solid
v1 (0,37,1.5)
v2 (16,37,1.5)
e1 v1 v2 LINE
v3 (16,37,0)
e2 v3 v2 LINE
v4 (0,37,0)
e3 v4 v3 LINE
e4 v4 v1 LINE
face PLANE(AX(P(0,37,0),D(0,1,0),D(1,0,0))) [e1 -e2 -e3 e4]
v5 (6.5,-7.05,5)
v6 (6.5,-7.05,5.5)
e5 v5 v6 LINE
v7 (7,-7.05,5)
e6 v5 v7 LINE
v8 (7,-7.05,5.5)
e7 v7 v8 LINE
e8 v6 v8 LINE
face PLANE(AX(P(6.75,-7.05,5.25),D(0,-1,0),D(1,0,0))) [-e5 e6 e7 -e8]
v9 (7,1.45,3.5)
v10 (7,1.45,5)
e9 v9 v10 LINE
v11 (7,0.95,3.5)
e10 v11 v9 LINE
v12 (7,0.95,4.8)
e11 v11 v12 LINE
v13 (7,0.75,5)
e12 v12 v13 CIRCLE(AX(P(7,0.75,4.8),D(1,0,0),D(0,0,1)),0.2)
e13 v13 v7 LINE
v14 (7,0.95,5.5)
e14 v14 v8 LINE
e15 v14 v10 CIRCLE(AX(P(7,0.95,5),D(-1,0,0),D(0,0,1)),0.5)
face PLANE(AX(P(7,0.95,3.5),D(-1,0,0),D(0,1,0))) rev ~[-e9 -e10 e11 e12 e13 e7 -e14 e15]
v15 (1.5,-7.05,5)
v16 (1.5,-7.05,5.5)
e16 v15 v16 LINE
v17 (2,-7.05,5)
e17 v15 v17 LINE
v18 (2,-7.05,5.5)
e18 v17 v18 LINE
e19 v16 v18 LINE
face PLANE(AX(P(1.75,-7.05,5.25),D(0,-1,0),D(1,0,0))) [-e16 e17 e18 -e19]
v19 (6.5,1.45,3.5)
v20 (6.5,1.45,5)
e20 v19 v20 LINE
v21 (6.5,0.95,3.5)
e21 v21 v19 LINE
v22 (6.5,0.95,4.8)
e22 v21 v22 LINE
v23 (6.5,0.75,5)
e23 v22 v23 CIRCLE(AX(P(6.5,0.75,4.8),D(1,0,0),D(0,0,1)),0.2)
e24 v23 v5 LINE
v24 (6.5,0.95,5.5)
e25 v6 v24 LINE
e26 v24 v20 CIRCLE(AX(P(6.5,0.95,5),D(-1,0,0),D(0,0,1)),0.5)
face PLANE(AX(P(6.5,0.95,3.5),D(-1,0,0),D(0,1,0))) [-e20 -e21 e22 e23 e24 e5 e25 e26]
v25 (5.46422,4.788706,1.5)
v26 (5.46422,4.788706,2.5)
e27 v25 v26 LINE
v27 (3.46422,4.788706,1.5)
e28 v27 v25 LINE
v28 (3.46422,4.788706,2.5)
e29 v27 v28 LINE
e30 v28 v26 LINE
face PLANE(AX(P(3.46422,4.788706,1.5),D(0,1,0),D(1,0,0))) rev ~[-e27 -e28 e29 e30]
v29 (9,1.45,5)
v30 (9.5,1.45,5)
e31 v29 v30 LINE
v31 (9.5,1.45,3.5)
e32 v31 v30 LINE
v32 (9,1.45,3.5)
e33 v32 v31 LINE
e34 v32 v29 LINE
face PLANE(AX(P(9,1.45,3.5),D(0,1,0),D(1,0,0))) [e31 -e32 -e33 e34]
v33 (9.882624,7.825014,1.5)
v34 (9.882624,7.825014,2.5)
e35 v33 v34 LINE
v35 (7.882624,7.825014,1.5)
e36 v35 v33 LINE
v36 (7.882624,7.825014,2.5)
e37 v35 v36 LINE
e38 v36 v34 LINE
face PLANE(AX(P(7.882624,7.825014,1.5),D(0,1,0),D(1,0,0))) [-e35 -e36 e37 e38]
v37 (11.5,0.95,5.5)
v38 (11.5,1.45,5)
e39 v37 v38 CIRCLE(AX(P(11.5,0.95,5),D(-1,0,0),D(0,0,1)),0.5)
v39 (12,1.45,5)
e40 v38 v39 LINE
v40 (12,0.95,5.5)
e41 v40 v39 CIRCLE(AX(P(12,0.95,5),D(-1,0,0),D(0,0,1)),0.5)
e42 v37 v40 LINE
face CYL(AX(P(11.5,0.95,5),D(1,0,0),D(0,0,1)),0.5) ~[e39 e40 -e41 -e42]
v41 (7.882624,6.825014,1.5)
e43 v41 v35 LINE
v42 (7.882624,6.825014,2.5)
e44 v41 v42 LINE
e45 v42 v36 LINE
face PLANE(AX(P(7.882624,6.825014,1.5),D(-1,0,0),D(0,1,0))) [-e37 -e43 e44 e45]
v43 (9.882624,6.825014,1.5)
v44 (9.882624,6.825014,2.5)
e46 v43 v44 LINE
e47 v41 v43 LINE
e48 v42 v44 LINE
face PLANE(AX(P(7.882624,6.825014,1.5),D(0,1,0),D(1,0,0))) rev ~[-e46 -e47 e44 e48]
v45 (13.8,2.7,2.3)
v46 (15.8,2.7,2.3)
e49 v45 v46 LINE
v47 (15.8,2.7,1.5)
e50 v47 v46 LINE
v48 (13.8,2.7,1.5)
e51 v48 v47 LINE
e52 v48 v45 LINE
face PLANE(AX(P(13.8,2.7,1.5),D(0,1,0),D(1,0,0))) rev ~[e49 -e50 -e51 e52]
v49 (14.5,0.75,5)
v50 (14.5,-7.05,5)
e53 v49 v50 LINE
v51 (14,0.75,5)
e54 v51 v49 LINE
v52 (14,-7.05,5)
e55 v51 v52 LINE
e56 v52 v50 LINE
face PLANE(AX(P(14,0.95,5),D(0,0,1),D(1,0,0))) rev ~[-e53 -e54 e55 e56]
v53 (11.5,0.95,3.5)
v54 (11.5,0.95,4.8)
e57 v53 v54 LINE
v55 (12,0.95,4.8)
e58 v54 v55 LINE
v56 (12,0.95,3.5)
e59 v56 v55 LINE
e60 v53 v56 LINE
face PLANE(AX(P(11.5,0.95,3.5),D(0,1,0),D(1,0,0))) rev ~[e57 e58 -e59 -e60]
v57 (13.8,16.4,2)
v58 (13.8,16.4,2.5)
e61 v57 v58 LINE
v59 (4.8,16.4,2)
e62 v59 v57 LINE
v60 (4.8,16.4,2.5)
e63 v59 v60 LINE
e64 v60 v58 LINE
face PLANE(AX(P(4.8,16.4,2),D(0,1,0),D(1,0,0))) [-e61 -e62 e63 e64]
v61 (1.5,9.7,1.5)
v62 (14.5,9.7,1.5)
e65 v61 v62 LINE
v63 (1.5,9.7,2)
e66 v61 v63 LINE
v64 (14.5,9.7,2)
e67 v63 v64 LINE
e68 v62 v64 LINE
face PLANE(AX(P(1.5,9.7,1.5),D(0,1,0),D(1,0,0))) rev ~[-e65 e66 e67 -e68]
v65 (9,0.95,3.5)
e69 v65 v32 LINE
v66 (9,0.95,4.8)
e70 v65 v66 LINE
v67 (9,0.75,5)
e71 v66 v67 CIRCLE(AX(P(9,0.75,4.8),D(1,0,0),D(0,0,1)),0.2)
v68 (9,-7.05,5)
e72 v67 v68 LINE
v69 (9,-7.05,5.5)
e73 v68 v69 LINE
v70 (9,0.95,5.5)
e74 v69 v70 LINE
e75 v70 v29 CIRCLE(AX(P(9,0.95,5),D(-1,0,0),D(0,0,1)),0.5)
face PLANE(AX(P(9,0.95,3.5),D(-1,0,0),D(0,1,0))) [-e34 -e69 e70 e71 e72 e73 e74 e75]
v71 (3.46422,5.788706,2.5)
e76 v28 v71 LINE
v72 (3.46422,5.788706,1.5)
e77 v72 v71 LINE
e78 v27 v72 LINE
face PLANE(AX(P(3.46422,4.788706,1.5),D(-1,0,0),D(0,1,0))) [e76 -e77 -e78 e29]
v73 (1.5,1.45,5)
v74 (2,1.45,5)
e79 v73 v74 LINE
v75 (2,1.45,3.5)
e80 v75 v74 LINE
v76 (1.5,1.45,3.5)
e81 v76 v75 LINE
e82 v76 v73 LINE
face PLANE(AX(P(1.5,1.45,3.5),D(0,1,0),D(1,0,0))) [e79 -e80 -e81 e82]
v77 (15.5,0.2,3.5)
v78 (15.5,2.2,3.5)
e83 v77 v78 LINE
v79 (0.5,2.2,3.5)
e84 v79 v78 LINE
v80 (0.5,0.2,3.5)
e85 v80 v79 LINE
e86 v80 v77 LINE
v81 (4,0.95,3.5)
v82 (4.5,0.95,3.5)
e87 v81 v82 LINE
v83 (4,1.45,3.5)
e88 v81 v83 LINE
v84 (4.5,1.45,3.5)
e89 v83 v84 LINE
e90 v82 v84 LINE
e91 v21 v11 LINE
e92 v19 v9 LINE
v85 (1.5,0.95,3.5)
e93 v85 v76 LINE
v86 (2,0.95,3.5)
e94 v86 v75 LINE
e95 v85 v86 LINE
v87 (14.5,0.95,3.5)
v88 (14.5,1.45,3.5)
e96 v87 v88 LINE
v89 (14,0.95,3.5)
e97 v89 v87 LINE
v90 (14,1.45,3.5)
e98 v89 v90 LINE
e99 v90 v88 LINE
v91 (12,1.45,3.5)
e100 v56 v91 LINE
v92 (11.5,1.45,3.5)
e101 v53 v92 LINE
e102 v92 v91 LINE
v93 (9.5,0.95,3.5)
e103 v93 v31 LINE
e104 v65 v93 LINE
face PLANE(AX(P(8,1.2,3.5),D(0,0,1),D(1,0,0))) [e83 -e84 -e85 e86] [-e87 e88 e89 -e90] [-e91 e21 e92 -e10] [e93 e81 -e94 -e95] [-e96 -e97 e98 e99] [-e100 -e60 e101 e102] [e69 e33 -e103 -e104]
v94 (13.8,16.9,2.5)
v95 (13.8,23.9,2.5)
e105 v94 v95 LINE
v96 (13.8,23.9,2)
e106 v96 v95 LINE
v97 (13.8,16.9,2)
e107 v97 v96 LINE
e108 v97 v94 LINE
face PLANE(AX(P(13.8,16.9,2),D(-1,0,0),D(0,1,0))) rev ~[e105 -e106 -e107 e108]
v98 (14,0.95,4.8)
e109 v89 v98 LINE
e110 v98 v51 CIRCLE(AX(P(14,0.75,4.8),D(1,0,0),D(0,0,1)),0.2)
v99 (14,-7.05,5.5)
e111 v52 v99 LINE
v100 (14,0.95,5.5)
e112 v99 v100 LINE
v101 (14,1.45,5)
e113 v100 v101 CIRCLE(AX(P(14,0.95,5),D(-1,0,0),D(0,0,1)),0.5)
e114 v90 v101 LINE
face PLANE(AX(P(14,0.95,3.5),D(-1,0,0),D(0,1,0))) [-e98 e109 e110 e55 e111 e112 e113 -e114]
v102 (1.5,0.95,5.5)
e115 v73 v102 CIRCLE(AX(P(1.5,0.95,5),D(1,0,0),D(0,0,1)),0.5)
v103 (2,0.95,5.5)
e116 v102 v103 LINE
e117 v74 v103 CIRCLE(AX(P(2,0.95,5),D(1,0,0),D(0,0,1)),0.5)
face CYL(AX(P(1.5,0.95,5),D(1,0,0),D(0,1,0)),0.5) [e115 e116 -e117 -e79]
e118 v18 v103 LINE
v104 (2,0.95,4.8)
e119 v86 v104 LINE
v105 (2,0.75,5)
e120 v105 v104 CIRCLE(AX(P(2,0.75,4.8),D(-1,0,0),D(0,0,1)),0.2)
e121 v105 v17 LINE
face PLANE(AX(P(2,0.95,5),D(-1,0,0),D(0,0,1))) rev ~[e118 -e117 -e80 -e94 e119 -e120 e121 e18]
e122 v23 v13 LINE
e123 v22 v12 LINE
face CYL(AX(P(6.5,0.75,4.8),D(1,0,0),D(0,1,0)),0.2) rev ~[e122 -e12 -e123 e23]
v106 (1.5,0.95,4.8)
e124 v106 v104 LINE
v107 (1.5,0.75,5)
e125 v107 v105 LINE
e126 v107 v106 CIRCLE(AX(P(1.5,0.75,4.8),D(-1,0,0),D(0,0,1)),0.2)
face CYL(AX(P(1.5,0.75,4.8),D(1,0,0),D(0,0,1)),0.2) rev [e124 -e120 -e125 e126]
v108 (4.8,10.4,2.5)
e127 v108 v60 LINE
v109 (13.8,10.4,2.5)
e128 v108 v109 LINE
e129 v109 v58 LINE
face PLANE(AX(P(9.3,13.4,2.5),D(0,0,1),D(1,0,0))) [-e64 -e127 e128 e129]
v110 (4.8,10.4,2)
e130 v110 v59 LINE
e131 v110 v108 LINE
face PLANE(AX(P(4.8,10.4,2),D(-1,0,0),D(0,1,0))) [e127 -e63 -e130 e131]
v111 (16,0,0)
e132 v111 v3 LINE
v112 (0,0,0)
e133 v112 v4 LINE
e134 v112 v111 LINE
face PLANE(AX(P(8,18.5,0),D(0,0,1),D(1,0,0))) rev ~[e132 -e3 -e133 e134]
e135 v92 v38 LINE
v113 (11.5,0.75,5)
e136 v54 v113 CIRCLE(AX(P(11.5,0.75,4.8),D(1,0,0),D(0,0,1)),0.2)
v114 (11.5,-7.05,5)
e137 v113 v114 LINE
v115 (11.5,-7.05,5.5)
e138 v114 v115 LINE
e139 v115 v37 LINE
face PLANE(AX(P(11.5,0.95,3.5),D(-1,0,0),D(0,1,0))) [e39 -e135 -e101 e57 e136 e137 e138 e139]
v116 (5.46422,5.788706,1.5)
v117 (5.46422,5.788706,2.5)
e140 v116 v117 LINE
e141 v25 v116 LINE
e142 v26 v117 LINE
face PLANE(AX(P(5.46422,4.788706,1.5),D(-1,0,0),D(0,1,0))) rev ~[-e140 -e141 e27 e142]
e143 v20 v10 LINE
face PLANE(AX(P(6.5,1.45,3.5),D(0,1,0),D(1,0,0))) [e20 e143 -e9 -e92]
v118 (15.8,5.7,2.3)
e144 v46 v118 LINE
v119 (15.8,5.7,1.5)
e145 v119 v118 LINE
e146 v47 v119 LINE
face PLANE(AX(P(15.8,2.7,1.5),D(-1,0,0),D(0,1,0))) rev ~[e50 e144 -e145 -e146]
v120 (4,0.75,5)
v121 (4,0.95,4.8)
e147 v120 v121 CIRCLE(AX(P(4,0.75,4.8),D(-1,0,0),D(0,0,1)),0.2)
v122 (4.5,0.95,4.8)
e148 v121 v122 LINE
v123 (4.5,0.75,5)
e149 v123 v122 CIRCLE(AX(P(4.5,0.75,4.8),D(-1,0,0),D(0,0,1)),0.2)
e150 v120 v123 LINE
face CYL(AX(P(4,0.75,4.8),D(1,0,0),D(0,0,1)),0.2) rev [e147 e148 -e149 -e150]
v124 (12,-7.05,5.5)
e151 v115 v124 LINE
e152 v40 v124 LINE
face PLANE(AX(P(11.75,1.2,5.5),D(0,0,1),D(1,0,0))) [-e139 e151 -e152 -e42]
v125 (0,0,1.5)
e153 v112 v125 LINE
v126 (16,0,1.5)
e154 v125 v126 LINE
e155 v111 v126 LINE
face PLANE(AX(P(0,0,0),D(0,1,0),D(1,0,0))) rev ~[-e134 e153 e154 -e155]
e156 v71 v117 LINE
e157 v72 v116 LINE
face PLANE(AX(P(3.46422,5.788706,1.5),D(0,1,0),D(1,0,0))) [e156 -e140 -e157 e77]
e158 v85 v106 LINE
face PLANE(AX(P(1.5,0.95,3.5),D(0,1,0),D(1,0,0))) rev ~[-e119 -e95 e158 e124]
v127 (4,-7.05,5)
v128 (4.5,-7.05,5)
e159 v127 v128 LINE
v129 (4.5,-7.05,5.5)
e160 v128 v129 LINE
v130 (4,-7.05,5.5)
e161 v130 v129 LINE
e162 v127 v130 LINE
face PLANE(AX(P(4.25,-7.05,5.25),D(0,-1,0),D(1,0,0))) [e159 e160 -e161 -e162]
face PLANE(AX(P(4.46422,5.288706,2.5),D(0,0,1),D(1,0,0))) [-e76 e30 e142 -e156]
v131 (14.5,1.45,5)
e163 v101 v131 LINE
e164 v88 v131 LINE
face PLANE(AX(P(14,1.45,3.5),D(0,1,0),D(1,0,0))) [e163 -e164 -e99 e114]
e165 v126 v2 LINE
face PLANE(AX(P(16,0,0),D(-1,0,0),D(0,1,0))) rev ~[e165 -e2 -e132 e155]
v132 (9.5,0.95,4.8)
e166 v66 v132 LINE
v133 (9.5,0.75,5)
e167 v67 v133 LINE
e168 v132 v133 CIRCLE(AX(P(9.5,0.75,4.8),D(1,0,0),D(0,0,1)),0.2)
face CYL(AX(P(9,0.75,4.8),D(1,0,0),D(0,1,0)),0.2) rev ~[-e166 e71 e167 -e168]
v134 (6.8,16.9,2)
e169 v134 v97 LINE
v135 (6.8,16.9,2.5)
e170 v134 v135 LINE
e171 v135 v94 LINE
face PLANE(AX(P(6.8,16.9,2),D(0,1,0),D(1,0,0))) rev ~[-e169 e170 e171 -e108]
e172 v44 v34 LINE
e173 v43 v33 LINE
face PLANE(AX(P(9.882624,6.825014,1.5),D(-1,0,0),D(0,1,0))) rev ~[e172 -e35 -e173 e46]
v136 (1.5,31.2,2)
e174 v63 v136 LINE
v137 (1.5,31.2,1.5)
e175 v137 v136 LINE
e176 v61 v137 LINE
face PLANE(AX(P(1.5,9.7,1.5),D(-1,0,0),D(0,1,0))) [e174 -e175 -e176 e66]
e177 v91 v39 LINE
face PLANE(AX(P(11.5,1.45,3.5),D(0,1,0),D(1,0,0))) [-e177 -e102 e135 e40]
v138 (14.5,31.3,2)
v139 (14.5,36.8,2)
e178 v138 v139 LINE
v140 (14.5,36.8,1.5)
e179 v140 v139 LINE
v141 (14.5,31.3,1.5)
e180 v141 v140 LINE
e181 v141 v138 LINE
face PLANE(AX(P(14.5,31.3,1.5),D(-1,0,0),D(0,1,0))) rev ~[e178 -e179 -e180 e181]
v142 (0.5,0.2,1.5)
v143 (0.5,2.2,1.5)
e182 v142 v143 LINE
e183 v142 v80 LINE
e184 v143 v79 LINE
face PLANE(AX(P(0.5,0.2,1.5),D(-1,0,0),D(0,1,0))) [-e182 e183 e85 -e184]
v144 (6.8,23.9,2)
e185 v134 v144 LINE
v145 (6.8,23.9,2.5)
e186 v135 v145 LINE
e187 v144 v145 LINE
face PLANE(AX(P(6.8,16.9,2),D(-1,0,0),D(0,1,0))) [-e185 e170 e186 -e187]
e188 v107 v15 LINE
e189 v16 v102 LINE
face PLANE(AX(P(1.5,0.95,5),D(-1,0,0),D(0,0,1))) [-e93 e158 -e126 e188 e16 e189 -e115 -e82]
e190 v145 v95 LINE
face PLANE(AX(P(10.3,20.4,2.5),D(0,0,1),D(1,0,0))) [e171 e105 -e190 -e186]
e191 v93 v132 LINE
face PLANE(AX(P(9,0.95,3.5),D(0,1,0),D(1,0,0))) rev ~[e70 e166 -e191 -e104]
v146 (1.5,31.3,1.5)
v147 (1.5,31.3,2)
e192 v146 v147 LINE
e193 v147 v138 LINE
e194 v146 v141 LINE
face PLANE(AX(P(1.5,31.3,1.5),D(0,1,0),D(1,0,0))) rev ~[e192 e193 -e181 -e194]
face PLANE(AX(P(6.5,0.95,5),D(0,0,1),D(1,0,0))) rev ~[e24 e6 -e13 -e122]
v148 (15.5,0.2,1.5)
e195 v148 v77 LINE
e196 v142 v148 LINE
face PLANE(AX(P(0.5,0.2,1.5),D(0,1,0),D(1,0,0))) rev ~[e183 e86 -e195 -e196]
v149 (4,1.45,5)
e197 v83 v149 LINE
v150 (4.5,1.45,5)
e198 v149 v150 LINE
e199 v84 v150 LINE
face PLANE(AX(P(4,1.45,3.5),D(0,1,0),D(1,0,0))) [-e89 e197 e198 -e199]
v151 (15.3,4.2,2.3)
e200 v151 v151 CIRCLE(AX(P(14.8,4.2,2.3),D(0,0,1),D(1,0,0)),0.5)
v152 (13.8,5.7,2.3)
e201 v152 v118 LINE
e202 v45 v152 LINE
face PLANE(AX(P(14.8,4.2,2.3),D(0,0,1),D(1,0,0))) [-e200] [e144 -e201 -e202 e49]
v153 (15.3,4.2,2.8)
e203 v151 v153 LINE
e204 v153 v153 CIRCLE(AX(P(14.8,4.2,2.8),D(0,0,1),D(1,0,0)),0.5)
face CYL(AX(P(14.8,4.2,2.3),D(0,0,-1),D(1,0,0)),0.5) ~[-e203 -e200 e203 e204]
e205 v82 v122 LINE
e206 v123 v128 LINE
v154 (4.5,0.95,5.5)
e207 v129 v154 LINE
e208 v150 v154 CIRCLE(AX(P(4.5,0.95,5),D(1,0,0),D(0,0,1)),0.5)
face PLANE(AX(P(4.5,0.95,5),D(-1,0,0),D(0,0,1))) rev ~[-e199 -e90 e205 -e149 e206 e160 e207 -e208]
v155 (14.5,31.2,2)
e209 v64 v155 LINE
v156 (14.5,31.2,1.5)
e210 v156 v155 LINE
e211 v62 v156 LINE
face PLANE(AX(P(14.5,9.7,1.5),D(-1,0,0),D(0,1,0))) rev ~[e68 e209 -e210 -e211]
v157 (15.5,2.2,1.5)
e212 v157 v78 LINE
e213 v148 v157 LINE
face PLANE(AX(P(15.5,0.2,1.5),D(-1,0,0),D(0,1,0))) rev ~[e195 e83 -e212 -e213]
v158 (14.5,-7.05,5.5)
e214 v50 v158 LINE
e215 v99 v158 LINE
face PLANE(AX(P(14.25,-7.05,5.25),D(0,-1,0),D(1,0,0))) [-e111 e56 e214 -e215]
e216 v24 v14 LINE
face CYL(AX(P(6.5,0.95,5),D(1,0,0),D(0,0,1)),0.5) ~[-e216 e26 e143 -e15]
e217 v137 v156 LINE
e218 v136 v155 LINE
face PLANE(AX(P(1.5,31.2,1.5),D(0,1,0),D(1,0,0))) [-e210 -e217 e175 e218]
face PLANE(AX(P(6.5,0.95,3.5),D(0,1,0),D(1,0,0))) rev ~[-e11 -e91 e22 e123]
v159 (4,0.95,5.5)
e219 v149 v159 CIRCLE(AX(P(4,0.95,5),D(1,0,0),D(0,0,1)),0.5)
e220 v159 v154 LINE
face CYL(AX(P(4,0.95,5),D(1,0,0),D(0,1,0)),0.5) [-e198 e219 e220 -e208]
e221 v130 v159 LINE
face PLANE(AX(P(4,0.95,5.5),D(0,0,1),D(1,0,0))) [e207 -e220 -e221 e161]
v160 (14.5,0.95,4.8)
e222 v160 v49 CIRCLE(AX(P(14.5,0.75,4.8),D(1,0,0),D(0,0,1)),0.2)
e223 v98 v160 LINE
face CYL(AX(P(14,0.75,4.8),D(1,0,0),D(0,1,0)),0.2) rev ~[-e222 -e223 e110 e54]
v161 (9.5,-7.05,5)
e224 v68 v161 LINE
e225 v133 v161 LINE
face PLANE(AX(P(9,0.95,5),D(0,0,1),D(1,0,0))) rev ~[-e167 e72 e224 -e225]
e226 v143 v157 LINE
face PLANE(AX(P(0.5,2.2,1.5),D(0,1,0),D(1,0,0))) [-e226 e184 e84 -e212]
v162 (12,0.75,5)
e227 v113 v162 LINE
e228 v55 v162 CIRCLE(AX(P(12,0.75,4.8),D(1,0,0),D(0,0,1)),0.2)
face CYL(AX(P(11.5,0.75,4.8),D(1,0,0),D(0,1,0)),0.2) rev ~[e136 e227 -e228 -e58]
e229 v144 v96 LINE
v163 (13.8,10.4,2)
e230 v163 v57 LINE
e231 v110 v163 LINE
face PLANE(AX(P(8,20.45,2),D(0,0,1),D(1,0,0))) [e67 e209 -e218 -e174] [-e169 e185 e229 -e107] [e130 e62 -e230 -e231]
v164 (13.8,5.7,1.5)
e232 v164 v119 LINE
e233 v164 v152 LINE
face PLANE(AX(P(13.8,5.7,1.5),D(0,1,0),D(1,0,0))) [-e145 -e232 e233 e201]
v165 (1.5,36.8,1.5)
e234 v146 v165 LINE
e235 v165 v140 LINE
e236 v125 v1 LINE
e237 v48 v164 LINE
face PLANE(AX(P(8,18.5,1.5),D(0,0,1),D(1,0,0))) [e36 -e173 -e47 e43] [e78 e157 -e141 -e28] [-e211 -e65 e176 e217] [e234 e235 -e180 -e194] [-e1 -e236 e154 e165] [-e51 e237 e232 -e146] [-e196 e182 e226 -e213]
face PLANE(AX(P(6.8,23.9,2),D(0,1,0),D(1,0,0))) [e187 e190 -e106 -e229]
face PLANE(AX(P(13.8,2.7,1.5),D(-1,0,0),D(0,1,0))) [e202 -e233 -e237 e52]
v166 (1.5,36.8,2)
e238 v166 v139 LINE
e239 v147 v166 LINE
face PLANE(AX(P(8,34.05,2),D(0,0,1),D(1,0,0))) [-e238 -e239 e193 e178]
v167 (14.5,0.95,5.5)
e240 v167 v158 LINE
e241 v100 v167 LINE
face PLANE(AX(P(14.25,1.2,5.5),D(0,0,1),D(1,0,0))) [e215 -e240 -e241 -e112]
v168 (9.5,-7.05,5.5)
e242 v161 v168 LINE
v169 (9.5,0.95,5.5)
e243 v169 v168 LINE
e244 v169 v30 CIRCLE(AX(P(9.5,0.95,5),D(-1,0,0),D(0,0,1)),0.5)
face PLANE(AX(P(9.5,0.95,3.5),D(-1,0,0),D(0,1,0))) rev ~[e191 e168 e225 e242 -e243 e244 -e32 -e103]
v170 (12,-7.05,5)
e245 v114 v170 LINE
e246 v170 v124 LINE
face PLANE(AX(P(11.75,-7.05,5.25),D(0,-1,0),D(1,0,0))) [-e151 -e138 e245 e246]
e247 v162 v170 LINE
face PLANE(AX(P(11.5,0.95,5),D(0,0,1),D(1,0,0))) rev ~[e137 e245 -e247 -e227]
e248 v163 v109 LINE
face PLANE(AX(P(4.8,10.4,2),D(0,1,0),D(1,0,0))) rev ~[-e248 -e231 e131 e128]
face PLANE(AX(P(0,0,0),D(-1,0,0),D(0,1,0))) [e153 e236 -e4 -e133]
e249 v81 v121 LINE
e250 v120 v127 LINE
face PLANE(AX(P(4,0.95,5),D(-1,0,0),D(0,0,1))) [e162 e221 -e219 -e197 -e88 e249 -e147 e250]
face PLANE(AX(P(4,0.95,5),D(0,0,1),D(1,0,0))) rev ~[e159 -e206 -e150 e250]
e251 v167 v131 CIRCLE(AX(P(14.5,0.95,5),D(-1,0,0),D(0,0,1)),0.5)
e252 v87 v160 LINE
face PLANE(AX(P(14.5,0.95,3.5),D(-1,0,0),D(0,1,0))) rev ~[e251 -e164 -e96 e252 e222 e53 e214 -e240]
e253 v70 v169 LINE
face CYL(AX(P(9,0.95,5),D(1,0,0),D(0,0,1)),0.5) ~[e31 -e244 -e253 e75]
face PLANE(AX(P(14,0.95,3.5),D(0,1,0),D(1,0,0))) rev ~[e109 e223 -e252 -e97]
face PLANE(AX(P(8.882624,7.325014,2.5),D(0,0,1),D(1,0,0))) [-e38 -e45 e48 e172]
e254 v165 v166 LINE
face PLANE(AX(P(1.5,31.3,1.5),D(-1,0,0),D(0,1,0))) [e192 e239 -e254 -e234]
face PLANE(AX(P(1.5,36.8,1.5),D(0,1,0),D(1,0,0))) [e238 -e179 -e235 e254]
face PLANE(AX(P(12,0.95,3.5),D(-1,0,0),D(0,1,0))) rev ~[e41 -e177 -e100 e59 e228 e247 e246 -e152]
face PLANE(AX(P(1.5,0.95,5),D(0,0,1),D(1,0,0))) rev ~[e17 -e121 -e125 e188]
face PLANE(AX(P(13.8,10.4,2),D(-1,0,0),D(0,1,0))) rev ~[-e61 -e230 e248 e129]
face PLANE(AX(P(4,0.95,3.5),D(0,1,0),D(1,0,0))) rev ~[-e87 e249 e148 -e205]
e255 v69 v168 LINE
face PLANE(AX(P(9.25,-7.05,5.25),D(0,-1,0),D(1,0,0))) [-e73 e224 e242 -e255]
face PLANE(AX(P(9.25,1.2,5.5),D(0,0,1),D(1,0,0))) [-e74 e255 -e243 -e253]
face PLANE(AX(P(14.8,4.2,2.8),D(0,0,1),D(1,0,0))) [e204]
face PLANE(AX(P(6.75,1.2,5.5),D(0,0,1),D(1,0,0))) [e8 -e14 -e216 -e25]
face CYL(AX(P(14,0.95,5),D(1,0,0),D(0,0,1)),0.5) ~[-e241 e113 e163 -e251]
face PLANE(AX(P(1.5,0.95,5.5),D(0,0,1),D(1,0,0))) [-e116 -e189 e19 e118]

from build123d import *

# Parameters (mm, degrees)
SKETCH_1_W                     = 16
SKETCH_1_H                     = 37
EXTRUDE_1_DEPTH                = 1.5
SKETCH_2_W                     = 15
SKETCH_2_H                     = 2
EXTRUDE_2_DEPTH                = 2
SKETCH_3_W                     = 0.5
SKETCH_3_H                     = 0.5
EXTRUDE_3_DEPTH                = 2
SKETCH_4_W                     = 0.5
SKETCH_4_H                     = 0.5
EXTRUDE_4_DEPTH                = 8
FILLET_2_R                     = 0.5
FILLET_3_R                     = 0.2
PATTERN_LINEAR_1_COUNT         = 6
PATTERN_LINEAR_1_PITCH         = 2.5
FILLET_2_OF_PATTERN_LINEAR_1_R = 0.5
FILLET_3_OF_PATTERN_LINEAR_1_R = 0.2
SKETCH_7_W                     = 13
SKETCH_7_H                     = 5.5
EXTRUDE_7_DEPTH                = 0.5
SKETCH_8_W                     = 13
SKETCH_8_H                     = 21.5
EXTRUDE_8_DEPTH                = 0.5
SKETCH_9_W                     = 2
SKETCH_9_H                     = 3
EXTRUDE_9_DEPTH                = 0.8
SKETCH_10_R                    = 0.5
EXTRUDE_10_DEPTH               = 0.5
SKETCH_11_W                    = 2
SKETCH_11_H                    = 1
EXTRUDE_11_DEPTH               = 1
SKETCH_12_W                    = 7
SKETCH_12_H                    = 7
SKETCH_12_W_2                  = 9
SKETCH_12_H_2                  = 6
EXTRUDE_12_DEPTH               = 0.5


with BuildPart() as part:
    # 草图1 → 凸台-拉伸1 (new body)
    with BuildSketch(Plane.XY):
        with Locations((8, 18.5)):
            Rectangle(SKETCH_1_W, SKETCH_1_H)
    extrude(amount=EXTRUDE_1_DEPTH)

    # 草图2 → 凸台-拉伸2 (add)
    with BuildSketch(Plane.XY.offset(1.5)):
        with Locations((8, 1.2)):
            Rectangle(SKETCH_2_W, SKETCH_2_H)
    extrude(amount=EXTRUDE_2_DEPTH)

    # 草图3 → 凸台-拉伸3 (add)
    with BuildSketch(Plane.XY.offset(3.5)):
        with Locations((1.75, 1.2)):
            Rectangle(SKETCH_3_W, SKETCH_3_H)
    extrude_3 = extrude(amount=EXTRUDE_3_DEPTH)

    # 草图4 → 凸台-拉伸4 (add)
    with BuildSketch(Plane.XZ.offset(-0.95)):
        with Locations((1.75, 5.25)):
            Rectangle(SKETCH_4_W, SKETCH_4_H)
    extrude_4 = extrude(amount=EXTRUDE_4_DEPTH)

    # 圆角2
    fillet_2_edges = [part.edges().sort_by_distance(p)[0] for p in [
        (1.75, 1.45, 5.5),
    ]]
    fillet(fillet_2_edges, radius=FILLET_2_R)

    # 圆角3
    fillet_3_edges = [part.edges().sort_by_distance(p)[0] for p in [
        (1.75, 0.95, 5),
    ]]
    fillet(fillet_3_edges, radius=FILLET_3_R)

    # 阵列(线性)1: 凸台-拉伸3, 凸台-拉伸4 ×6
    with Locations(*[(i * PATTERN_LINEAR_1_PITCH, 0, 0) for i in range(1, PATTERN_LINEAR_1_COUNT)]):
        add(extrude_3)
        add(extrude_4)

    # 圆角2 of 阵列(线性)1
    fillet_2_of_pattern_linear_1_edges = [part.edges().sort_by_distance(p)[0] for p in [
        (4.25, 1.45, 5.5),
        (6.75, 1.45, 5.5),
        (9.25, 1.45, 5.5),
        (11.75, 1.45, 5.5),
        (14.25, 1.45, 5.5),
    ]]
    fillet(fillet_2_of_pattern_linear_1_edges, radius=FILLET_2_OF_PATTERN_LINEAR_1_R)

    # 圆角3 of 阵列(线性)1
    fillet_3_of_pattern_linear_1_edges = [part.edges().sort_by_distance(p)[0] for p in [
        (4.25, 0.95, 5),
        (6.75, 0.95, 5),
        (9.25, 0.95, 5),
        (11.75, 0.95, 5),
        (14.25, 0.95, 5),
    ]]
    fillet(fillet_3_of_pattern_linear_1_edges, radius=FILLET_3_OF_PATTERN_LINEAR_1_R)

    # 草图7 → 凸台-拉伸7 (add)
    with BuildSketch(Plane.XY.offset(1.5)):
        with Locations((8, 34.05)):
            Rectangle(SKETCH_7_W, SKETCH_7_H)
    extrude(amount=EXTRUDE_7_DEPTH)

    # 草图8 → 凸台-拉伸8 (add)
    with BuildSketch(Plane.XY.offset(1.5)):
        with Locations((8, 20.45)):
            Rectangle(SKETCH_8_W, SKETCH_8_H)
    extrude(amount=EXTRUDE_8_DEPTH)

    # 草图9 → 凸台-拉伸9 (add)
    with BuildSketch(Plane.XY.offset(1.5)):
        with Locations((14.8, 4.2)):
            Rectangle(SKETCH_9_W, SKETCH_9_H)
    extrude(amount=EXTRUDE_9_DEPTH)

    # 草图10 → 凸台-拉伸10 (add)
    with BuildSketch(Plane.XY.offset(2.3)):
        with Locations((14.8, 4.2)):
            Circle(SKETCH_10_R)
    extrude(amount=EXTRUDE_10_DEPTH)

    # 草图11 → 凸台-拉伸11 (add)
    with BuildSketch(Plane.XY.offset(1.5)):
        with Locations((8.882624218, 7.325014272)):
            Rectangle(SKETCH_11_W, SKETCH_11_H)
        with Locations((4.464220441, 5.288706444)):
            Rectangle(SKETCH_11_W, SKETCH_11_H)
    extrude(amount=EXTRUDE_11_DEPTH)

    # 草图12 → 凸台-拉伸12 (add)
    with BuildSketch(Plane.XY.offset(2)):
        with Locations((10.3, 20.4)):
            Rectangle(SKETCH_12_W, SKETCH_12_H)
        with Locations((9.3, 13.4)):
            Rectangle(SKETCH_12_W_2, SKETCH_12_H_2)
    extrude(amount=EXTRUDE_12_DEPTH)


solid = part.part
